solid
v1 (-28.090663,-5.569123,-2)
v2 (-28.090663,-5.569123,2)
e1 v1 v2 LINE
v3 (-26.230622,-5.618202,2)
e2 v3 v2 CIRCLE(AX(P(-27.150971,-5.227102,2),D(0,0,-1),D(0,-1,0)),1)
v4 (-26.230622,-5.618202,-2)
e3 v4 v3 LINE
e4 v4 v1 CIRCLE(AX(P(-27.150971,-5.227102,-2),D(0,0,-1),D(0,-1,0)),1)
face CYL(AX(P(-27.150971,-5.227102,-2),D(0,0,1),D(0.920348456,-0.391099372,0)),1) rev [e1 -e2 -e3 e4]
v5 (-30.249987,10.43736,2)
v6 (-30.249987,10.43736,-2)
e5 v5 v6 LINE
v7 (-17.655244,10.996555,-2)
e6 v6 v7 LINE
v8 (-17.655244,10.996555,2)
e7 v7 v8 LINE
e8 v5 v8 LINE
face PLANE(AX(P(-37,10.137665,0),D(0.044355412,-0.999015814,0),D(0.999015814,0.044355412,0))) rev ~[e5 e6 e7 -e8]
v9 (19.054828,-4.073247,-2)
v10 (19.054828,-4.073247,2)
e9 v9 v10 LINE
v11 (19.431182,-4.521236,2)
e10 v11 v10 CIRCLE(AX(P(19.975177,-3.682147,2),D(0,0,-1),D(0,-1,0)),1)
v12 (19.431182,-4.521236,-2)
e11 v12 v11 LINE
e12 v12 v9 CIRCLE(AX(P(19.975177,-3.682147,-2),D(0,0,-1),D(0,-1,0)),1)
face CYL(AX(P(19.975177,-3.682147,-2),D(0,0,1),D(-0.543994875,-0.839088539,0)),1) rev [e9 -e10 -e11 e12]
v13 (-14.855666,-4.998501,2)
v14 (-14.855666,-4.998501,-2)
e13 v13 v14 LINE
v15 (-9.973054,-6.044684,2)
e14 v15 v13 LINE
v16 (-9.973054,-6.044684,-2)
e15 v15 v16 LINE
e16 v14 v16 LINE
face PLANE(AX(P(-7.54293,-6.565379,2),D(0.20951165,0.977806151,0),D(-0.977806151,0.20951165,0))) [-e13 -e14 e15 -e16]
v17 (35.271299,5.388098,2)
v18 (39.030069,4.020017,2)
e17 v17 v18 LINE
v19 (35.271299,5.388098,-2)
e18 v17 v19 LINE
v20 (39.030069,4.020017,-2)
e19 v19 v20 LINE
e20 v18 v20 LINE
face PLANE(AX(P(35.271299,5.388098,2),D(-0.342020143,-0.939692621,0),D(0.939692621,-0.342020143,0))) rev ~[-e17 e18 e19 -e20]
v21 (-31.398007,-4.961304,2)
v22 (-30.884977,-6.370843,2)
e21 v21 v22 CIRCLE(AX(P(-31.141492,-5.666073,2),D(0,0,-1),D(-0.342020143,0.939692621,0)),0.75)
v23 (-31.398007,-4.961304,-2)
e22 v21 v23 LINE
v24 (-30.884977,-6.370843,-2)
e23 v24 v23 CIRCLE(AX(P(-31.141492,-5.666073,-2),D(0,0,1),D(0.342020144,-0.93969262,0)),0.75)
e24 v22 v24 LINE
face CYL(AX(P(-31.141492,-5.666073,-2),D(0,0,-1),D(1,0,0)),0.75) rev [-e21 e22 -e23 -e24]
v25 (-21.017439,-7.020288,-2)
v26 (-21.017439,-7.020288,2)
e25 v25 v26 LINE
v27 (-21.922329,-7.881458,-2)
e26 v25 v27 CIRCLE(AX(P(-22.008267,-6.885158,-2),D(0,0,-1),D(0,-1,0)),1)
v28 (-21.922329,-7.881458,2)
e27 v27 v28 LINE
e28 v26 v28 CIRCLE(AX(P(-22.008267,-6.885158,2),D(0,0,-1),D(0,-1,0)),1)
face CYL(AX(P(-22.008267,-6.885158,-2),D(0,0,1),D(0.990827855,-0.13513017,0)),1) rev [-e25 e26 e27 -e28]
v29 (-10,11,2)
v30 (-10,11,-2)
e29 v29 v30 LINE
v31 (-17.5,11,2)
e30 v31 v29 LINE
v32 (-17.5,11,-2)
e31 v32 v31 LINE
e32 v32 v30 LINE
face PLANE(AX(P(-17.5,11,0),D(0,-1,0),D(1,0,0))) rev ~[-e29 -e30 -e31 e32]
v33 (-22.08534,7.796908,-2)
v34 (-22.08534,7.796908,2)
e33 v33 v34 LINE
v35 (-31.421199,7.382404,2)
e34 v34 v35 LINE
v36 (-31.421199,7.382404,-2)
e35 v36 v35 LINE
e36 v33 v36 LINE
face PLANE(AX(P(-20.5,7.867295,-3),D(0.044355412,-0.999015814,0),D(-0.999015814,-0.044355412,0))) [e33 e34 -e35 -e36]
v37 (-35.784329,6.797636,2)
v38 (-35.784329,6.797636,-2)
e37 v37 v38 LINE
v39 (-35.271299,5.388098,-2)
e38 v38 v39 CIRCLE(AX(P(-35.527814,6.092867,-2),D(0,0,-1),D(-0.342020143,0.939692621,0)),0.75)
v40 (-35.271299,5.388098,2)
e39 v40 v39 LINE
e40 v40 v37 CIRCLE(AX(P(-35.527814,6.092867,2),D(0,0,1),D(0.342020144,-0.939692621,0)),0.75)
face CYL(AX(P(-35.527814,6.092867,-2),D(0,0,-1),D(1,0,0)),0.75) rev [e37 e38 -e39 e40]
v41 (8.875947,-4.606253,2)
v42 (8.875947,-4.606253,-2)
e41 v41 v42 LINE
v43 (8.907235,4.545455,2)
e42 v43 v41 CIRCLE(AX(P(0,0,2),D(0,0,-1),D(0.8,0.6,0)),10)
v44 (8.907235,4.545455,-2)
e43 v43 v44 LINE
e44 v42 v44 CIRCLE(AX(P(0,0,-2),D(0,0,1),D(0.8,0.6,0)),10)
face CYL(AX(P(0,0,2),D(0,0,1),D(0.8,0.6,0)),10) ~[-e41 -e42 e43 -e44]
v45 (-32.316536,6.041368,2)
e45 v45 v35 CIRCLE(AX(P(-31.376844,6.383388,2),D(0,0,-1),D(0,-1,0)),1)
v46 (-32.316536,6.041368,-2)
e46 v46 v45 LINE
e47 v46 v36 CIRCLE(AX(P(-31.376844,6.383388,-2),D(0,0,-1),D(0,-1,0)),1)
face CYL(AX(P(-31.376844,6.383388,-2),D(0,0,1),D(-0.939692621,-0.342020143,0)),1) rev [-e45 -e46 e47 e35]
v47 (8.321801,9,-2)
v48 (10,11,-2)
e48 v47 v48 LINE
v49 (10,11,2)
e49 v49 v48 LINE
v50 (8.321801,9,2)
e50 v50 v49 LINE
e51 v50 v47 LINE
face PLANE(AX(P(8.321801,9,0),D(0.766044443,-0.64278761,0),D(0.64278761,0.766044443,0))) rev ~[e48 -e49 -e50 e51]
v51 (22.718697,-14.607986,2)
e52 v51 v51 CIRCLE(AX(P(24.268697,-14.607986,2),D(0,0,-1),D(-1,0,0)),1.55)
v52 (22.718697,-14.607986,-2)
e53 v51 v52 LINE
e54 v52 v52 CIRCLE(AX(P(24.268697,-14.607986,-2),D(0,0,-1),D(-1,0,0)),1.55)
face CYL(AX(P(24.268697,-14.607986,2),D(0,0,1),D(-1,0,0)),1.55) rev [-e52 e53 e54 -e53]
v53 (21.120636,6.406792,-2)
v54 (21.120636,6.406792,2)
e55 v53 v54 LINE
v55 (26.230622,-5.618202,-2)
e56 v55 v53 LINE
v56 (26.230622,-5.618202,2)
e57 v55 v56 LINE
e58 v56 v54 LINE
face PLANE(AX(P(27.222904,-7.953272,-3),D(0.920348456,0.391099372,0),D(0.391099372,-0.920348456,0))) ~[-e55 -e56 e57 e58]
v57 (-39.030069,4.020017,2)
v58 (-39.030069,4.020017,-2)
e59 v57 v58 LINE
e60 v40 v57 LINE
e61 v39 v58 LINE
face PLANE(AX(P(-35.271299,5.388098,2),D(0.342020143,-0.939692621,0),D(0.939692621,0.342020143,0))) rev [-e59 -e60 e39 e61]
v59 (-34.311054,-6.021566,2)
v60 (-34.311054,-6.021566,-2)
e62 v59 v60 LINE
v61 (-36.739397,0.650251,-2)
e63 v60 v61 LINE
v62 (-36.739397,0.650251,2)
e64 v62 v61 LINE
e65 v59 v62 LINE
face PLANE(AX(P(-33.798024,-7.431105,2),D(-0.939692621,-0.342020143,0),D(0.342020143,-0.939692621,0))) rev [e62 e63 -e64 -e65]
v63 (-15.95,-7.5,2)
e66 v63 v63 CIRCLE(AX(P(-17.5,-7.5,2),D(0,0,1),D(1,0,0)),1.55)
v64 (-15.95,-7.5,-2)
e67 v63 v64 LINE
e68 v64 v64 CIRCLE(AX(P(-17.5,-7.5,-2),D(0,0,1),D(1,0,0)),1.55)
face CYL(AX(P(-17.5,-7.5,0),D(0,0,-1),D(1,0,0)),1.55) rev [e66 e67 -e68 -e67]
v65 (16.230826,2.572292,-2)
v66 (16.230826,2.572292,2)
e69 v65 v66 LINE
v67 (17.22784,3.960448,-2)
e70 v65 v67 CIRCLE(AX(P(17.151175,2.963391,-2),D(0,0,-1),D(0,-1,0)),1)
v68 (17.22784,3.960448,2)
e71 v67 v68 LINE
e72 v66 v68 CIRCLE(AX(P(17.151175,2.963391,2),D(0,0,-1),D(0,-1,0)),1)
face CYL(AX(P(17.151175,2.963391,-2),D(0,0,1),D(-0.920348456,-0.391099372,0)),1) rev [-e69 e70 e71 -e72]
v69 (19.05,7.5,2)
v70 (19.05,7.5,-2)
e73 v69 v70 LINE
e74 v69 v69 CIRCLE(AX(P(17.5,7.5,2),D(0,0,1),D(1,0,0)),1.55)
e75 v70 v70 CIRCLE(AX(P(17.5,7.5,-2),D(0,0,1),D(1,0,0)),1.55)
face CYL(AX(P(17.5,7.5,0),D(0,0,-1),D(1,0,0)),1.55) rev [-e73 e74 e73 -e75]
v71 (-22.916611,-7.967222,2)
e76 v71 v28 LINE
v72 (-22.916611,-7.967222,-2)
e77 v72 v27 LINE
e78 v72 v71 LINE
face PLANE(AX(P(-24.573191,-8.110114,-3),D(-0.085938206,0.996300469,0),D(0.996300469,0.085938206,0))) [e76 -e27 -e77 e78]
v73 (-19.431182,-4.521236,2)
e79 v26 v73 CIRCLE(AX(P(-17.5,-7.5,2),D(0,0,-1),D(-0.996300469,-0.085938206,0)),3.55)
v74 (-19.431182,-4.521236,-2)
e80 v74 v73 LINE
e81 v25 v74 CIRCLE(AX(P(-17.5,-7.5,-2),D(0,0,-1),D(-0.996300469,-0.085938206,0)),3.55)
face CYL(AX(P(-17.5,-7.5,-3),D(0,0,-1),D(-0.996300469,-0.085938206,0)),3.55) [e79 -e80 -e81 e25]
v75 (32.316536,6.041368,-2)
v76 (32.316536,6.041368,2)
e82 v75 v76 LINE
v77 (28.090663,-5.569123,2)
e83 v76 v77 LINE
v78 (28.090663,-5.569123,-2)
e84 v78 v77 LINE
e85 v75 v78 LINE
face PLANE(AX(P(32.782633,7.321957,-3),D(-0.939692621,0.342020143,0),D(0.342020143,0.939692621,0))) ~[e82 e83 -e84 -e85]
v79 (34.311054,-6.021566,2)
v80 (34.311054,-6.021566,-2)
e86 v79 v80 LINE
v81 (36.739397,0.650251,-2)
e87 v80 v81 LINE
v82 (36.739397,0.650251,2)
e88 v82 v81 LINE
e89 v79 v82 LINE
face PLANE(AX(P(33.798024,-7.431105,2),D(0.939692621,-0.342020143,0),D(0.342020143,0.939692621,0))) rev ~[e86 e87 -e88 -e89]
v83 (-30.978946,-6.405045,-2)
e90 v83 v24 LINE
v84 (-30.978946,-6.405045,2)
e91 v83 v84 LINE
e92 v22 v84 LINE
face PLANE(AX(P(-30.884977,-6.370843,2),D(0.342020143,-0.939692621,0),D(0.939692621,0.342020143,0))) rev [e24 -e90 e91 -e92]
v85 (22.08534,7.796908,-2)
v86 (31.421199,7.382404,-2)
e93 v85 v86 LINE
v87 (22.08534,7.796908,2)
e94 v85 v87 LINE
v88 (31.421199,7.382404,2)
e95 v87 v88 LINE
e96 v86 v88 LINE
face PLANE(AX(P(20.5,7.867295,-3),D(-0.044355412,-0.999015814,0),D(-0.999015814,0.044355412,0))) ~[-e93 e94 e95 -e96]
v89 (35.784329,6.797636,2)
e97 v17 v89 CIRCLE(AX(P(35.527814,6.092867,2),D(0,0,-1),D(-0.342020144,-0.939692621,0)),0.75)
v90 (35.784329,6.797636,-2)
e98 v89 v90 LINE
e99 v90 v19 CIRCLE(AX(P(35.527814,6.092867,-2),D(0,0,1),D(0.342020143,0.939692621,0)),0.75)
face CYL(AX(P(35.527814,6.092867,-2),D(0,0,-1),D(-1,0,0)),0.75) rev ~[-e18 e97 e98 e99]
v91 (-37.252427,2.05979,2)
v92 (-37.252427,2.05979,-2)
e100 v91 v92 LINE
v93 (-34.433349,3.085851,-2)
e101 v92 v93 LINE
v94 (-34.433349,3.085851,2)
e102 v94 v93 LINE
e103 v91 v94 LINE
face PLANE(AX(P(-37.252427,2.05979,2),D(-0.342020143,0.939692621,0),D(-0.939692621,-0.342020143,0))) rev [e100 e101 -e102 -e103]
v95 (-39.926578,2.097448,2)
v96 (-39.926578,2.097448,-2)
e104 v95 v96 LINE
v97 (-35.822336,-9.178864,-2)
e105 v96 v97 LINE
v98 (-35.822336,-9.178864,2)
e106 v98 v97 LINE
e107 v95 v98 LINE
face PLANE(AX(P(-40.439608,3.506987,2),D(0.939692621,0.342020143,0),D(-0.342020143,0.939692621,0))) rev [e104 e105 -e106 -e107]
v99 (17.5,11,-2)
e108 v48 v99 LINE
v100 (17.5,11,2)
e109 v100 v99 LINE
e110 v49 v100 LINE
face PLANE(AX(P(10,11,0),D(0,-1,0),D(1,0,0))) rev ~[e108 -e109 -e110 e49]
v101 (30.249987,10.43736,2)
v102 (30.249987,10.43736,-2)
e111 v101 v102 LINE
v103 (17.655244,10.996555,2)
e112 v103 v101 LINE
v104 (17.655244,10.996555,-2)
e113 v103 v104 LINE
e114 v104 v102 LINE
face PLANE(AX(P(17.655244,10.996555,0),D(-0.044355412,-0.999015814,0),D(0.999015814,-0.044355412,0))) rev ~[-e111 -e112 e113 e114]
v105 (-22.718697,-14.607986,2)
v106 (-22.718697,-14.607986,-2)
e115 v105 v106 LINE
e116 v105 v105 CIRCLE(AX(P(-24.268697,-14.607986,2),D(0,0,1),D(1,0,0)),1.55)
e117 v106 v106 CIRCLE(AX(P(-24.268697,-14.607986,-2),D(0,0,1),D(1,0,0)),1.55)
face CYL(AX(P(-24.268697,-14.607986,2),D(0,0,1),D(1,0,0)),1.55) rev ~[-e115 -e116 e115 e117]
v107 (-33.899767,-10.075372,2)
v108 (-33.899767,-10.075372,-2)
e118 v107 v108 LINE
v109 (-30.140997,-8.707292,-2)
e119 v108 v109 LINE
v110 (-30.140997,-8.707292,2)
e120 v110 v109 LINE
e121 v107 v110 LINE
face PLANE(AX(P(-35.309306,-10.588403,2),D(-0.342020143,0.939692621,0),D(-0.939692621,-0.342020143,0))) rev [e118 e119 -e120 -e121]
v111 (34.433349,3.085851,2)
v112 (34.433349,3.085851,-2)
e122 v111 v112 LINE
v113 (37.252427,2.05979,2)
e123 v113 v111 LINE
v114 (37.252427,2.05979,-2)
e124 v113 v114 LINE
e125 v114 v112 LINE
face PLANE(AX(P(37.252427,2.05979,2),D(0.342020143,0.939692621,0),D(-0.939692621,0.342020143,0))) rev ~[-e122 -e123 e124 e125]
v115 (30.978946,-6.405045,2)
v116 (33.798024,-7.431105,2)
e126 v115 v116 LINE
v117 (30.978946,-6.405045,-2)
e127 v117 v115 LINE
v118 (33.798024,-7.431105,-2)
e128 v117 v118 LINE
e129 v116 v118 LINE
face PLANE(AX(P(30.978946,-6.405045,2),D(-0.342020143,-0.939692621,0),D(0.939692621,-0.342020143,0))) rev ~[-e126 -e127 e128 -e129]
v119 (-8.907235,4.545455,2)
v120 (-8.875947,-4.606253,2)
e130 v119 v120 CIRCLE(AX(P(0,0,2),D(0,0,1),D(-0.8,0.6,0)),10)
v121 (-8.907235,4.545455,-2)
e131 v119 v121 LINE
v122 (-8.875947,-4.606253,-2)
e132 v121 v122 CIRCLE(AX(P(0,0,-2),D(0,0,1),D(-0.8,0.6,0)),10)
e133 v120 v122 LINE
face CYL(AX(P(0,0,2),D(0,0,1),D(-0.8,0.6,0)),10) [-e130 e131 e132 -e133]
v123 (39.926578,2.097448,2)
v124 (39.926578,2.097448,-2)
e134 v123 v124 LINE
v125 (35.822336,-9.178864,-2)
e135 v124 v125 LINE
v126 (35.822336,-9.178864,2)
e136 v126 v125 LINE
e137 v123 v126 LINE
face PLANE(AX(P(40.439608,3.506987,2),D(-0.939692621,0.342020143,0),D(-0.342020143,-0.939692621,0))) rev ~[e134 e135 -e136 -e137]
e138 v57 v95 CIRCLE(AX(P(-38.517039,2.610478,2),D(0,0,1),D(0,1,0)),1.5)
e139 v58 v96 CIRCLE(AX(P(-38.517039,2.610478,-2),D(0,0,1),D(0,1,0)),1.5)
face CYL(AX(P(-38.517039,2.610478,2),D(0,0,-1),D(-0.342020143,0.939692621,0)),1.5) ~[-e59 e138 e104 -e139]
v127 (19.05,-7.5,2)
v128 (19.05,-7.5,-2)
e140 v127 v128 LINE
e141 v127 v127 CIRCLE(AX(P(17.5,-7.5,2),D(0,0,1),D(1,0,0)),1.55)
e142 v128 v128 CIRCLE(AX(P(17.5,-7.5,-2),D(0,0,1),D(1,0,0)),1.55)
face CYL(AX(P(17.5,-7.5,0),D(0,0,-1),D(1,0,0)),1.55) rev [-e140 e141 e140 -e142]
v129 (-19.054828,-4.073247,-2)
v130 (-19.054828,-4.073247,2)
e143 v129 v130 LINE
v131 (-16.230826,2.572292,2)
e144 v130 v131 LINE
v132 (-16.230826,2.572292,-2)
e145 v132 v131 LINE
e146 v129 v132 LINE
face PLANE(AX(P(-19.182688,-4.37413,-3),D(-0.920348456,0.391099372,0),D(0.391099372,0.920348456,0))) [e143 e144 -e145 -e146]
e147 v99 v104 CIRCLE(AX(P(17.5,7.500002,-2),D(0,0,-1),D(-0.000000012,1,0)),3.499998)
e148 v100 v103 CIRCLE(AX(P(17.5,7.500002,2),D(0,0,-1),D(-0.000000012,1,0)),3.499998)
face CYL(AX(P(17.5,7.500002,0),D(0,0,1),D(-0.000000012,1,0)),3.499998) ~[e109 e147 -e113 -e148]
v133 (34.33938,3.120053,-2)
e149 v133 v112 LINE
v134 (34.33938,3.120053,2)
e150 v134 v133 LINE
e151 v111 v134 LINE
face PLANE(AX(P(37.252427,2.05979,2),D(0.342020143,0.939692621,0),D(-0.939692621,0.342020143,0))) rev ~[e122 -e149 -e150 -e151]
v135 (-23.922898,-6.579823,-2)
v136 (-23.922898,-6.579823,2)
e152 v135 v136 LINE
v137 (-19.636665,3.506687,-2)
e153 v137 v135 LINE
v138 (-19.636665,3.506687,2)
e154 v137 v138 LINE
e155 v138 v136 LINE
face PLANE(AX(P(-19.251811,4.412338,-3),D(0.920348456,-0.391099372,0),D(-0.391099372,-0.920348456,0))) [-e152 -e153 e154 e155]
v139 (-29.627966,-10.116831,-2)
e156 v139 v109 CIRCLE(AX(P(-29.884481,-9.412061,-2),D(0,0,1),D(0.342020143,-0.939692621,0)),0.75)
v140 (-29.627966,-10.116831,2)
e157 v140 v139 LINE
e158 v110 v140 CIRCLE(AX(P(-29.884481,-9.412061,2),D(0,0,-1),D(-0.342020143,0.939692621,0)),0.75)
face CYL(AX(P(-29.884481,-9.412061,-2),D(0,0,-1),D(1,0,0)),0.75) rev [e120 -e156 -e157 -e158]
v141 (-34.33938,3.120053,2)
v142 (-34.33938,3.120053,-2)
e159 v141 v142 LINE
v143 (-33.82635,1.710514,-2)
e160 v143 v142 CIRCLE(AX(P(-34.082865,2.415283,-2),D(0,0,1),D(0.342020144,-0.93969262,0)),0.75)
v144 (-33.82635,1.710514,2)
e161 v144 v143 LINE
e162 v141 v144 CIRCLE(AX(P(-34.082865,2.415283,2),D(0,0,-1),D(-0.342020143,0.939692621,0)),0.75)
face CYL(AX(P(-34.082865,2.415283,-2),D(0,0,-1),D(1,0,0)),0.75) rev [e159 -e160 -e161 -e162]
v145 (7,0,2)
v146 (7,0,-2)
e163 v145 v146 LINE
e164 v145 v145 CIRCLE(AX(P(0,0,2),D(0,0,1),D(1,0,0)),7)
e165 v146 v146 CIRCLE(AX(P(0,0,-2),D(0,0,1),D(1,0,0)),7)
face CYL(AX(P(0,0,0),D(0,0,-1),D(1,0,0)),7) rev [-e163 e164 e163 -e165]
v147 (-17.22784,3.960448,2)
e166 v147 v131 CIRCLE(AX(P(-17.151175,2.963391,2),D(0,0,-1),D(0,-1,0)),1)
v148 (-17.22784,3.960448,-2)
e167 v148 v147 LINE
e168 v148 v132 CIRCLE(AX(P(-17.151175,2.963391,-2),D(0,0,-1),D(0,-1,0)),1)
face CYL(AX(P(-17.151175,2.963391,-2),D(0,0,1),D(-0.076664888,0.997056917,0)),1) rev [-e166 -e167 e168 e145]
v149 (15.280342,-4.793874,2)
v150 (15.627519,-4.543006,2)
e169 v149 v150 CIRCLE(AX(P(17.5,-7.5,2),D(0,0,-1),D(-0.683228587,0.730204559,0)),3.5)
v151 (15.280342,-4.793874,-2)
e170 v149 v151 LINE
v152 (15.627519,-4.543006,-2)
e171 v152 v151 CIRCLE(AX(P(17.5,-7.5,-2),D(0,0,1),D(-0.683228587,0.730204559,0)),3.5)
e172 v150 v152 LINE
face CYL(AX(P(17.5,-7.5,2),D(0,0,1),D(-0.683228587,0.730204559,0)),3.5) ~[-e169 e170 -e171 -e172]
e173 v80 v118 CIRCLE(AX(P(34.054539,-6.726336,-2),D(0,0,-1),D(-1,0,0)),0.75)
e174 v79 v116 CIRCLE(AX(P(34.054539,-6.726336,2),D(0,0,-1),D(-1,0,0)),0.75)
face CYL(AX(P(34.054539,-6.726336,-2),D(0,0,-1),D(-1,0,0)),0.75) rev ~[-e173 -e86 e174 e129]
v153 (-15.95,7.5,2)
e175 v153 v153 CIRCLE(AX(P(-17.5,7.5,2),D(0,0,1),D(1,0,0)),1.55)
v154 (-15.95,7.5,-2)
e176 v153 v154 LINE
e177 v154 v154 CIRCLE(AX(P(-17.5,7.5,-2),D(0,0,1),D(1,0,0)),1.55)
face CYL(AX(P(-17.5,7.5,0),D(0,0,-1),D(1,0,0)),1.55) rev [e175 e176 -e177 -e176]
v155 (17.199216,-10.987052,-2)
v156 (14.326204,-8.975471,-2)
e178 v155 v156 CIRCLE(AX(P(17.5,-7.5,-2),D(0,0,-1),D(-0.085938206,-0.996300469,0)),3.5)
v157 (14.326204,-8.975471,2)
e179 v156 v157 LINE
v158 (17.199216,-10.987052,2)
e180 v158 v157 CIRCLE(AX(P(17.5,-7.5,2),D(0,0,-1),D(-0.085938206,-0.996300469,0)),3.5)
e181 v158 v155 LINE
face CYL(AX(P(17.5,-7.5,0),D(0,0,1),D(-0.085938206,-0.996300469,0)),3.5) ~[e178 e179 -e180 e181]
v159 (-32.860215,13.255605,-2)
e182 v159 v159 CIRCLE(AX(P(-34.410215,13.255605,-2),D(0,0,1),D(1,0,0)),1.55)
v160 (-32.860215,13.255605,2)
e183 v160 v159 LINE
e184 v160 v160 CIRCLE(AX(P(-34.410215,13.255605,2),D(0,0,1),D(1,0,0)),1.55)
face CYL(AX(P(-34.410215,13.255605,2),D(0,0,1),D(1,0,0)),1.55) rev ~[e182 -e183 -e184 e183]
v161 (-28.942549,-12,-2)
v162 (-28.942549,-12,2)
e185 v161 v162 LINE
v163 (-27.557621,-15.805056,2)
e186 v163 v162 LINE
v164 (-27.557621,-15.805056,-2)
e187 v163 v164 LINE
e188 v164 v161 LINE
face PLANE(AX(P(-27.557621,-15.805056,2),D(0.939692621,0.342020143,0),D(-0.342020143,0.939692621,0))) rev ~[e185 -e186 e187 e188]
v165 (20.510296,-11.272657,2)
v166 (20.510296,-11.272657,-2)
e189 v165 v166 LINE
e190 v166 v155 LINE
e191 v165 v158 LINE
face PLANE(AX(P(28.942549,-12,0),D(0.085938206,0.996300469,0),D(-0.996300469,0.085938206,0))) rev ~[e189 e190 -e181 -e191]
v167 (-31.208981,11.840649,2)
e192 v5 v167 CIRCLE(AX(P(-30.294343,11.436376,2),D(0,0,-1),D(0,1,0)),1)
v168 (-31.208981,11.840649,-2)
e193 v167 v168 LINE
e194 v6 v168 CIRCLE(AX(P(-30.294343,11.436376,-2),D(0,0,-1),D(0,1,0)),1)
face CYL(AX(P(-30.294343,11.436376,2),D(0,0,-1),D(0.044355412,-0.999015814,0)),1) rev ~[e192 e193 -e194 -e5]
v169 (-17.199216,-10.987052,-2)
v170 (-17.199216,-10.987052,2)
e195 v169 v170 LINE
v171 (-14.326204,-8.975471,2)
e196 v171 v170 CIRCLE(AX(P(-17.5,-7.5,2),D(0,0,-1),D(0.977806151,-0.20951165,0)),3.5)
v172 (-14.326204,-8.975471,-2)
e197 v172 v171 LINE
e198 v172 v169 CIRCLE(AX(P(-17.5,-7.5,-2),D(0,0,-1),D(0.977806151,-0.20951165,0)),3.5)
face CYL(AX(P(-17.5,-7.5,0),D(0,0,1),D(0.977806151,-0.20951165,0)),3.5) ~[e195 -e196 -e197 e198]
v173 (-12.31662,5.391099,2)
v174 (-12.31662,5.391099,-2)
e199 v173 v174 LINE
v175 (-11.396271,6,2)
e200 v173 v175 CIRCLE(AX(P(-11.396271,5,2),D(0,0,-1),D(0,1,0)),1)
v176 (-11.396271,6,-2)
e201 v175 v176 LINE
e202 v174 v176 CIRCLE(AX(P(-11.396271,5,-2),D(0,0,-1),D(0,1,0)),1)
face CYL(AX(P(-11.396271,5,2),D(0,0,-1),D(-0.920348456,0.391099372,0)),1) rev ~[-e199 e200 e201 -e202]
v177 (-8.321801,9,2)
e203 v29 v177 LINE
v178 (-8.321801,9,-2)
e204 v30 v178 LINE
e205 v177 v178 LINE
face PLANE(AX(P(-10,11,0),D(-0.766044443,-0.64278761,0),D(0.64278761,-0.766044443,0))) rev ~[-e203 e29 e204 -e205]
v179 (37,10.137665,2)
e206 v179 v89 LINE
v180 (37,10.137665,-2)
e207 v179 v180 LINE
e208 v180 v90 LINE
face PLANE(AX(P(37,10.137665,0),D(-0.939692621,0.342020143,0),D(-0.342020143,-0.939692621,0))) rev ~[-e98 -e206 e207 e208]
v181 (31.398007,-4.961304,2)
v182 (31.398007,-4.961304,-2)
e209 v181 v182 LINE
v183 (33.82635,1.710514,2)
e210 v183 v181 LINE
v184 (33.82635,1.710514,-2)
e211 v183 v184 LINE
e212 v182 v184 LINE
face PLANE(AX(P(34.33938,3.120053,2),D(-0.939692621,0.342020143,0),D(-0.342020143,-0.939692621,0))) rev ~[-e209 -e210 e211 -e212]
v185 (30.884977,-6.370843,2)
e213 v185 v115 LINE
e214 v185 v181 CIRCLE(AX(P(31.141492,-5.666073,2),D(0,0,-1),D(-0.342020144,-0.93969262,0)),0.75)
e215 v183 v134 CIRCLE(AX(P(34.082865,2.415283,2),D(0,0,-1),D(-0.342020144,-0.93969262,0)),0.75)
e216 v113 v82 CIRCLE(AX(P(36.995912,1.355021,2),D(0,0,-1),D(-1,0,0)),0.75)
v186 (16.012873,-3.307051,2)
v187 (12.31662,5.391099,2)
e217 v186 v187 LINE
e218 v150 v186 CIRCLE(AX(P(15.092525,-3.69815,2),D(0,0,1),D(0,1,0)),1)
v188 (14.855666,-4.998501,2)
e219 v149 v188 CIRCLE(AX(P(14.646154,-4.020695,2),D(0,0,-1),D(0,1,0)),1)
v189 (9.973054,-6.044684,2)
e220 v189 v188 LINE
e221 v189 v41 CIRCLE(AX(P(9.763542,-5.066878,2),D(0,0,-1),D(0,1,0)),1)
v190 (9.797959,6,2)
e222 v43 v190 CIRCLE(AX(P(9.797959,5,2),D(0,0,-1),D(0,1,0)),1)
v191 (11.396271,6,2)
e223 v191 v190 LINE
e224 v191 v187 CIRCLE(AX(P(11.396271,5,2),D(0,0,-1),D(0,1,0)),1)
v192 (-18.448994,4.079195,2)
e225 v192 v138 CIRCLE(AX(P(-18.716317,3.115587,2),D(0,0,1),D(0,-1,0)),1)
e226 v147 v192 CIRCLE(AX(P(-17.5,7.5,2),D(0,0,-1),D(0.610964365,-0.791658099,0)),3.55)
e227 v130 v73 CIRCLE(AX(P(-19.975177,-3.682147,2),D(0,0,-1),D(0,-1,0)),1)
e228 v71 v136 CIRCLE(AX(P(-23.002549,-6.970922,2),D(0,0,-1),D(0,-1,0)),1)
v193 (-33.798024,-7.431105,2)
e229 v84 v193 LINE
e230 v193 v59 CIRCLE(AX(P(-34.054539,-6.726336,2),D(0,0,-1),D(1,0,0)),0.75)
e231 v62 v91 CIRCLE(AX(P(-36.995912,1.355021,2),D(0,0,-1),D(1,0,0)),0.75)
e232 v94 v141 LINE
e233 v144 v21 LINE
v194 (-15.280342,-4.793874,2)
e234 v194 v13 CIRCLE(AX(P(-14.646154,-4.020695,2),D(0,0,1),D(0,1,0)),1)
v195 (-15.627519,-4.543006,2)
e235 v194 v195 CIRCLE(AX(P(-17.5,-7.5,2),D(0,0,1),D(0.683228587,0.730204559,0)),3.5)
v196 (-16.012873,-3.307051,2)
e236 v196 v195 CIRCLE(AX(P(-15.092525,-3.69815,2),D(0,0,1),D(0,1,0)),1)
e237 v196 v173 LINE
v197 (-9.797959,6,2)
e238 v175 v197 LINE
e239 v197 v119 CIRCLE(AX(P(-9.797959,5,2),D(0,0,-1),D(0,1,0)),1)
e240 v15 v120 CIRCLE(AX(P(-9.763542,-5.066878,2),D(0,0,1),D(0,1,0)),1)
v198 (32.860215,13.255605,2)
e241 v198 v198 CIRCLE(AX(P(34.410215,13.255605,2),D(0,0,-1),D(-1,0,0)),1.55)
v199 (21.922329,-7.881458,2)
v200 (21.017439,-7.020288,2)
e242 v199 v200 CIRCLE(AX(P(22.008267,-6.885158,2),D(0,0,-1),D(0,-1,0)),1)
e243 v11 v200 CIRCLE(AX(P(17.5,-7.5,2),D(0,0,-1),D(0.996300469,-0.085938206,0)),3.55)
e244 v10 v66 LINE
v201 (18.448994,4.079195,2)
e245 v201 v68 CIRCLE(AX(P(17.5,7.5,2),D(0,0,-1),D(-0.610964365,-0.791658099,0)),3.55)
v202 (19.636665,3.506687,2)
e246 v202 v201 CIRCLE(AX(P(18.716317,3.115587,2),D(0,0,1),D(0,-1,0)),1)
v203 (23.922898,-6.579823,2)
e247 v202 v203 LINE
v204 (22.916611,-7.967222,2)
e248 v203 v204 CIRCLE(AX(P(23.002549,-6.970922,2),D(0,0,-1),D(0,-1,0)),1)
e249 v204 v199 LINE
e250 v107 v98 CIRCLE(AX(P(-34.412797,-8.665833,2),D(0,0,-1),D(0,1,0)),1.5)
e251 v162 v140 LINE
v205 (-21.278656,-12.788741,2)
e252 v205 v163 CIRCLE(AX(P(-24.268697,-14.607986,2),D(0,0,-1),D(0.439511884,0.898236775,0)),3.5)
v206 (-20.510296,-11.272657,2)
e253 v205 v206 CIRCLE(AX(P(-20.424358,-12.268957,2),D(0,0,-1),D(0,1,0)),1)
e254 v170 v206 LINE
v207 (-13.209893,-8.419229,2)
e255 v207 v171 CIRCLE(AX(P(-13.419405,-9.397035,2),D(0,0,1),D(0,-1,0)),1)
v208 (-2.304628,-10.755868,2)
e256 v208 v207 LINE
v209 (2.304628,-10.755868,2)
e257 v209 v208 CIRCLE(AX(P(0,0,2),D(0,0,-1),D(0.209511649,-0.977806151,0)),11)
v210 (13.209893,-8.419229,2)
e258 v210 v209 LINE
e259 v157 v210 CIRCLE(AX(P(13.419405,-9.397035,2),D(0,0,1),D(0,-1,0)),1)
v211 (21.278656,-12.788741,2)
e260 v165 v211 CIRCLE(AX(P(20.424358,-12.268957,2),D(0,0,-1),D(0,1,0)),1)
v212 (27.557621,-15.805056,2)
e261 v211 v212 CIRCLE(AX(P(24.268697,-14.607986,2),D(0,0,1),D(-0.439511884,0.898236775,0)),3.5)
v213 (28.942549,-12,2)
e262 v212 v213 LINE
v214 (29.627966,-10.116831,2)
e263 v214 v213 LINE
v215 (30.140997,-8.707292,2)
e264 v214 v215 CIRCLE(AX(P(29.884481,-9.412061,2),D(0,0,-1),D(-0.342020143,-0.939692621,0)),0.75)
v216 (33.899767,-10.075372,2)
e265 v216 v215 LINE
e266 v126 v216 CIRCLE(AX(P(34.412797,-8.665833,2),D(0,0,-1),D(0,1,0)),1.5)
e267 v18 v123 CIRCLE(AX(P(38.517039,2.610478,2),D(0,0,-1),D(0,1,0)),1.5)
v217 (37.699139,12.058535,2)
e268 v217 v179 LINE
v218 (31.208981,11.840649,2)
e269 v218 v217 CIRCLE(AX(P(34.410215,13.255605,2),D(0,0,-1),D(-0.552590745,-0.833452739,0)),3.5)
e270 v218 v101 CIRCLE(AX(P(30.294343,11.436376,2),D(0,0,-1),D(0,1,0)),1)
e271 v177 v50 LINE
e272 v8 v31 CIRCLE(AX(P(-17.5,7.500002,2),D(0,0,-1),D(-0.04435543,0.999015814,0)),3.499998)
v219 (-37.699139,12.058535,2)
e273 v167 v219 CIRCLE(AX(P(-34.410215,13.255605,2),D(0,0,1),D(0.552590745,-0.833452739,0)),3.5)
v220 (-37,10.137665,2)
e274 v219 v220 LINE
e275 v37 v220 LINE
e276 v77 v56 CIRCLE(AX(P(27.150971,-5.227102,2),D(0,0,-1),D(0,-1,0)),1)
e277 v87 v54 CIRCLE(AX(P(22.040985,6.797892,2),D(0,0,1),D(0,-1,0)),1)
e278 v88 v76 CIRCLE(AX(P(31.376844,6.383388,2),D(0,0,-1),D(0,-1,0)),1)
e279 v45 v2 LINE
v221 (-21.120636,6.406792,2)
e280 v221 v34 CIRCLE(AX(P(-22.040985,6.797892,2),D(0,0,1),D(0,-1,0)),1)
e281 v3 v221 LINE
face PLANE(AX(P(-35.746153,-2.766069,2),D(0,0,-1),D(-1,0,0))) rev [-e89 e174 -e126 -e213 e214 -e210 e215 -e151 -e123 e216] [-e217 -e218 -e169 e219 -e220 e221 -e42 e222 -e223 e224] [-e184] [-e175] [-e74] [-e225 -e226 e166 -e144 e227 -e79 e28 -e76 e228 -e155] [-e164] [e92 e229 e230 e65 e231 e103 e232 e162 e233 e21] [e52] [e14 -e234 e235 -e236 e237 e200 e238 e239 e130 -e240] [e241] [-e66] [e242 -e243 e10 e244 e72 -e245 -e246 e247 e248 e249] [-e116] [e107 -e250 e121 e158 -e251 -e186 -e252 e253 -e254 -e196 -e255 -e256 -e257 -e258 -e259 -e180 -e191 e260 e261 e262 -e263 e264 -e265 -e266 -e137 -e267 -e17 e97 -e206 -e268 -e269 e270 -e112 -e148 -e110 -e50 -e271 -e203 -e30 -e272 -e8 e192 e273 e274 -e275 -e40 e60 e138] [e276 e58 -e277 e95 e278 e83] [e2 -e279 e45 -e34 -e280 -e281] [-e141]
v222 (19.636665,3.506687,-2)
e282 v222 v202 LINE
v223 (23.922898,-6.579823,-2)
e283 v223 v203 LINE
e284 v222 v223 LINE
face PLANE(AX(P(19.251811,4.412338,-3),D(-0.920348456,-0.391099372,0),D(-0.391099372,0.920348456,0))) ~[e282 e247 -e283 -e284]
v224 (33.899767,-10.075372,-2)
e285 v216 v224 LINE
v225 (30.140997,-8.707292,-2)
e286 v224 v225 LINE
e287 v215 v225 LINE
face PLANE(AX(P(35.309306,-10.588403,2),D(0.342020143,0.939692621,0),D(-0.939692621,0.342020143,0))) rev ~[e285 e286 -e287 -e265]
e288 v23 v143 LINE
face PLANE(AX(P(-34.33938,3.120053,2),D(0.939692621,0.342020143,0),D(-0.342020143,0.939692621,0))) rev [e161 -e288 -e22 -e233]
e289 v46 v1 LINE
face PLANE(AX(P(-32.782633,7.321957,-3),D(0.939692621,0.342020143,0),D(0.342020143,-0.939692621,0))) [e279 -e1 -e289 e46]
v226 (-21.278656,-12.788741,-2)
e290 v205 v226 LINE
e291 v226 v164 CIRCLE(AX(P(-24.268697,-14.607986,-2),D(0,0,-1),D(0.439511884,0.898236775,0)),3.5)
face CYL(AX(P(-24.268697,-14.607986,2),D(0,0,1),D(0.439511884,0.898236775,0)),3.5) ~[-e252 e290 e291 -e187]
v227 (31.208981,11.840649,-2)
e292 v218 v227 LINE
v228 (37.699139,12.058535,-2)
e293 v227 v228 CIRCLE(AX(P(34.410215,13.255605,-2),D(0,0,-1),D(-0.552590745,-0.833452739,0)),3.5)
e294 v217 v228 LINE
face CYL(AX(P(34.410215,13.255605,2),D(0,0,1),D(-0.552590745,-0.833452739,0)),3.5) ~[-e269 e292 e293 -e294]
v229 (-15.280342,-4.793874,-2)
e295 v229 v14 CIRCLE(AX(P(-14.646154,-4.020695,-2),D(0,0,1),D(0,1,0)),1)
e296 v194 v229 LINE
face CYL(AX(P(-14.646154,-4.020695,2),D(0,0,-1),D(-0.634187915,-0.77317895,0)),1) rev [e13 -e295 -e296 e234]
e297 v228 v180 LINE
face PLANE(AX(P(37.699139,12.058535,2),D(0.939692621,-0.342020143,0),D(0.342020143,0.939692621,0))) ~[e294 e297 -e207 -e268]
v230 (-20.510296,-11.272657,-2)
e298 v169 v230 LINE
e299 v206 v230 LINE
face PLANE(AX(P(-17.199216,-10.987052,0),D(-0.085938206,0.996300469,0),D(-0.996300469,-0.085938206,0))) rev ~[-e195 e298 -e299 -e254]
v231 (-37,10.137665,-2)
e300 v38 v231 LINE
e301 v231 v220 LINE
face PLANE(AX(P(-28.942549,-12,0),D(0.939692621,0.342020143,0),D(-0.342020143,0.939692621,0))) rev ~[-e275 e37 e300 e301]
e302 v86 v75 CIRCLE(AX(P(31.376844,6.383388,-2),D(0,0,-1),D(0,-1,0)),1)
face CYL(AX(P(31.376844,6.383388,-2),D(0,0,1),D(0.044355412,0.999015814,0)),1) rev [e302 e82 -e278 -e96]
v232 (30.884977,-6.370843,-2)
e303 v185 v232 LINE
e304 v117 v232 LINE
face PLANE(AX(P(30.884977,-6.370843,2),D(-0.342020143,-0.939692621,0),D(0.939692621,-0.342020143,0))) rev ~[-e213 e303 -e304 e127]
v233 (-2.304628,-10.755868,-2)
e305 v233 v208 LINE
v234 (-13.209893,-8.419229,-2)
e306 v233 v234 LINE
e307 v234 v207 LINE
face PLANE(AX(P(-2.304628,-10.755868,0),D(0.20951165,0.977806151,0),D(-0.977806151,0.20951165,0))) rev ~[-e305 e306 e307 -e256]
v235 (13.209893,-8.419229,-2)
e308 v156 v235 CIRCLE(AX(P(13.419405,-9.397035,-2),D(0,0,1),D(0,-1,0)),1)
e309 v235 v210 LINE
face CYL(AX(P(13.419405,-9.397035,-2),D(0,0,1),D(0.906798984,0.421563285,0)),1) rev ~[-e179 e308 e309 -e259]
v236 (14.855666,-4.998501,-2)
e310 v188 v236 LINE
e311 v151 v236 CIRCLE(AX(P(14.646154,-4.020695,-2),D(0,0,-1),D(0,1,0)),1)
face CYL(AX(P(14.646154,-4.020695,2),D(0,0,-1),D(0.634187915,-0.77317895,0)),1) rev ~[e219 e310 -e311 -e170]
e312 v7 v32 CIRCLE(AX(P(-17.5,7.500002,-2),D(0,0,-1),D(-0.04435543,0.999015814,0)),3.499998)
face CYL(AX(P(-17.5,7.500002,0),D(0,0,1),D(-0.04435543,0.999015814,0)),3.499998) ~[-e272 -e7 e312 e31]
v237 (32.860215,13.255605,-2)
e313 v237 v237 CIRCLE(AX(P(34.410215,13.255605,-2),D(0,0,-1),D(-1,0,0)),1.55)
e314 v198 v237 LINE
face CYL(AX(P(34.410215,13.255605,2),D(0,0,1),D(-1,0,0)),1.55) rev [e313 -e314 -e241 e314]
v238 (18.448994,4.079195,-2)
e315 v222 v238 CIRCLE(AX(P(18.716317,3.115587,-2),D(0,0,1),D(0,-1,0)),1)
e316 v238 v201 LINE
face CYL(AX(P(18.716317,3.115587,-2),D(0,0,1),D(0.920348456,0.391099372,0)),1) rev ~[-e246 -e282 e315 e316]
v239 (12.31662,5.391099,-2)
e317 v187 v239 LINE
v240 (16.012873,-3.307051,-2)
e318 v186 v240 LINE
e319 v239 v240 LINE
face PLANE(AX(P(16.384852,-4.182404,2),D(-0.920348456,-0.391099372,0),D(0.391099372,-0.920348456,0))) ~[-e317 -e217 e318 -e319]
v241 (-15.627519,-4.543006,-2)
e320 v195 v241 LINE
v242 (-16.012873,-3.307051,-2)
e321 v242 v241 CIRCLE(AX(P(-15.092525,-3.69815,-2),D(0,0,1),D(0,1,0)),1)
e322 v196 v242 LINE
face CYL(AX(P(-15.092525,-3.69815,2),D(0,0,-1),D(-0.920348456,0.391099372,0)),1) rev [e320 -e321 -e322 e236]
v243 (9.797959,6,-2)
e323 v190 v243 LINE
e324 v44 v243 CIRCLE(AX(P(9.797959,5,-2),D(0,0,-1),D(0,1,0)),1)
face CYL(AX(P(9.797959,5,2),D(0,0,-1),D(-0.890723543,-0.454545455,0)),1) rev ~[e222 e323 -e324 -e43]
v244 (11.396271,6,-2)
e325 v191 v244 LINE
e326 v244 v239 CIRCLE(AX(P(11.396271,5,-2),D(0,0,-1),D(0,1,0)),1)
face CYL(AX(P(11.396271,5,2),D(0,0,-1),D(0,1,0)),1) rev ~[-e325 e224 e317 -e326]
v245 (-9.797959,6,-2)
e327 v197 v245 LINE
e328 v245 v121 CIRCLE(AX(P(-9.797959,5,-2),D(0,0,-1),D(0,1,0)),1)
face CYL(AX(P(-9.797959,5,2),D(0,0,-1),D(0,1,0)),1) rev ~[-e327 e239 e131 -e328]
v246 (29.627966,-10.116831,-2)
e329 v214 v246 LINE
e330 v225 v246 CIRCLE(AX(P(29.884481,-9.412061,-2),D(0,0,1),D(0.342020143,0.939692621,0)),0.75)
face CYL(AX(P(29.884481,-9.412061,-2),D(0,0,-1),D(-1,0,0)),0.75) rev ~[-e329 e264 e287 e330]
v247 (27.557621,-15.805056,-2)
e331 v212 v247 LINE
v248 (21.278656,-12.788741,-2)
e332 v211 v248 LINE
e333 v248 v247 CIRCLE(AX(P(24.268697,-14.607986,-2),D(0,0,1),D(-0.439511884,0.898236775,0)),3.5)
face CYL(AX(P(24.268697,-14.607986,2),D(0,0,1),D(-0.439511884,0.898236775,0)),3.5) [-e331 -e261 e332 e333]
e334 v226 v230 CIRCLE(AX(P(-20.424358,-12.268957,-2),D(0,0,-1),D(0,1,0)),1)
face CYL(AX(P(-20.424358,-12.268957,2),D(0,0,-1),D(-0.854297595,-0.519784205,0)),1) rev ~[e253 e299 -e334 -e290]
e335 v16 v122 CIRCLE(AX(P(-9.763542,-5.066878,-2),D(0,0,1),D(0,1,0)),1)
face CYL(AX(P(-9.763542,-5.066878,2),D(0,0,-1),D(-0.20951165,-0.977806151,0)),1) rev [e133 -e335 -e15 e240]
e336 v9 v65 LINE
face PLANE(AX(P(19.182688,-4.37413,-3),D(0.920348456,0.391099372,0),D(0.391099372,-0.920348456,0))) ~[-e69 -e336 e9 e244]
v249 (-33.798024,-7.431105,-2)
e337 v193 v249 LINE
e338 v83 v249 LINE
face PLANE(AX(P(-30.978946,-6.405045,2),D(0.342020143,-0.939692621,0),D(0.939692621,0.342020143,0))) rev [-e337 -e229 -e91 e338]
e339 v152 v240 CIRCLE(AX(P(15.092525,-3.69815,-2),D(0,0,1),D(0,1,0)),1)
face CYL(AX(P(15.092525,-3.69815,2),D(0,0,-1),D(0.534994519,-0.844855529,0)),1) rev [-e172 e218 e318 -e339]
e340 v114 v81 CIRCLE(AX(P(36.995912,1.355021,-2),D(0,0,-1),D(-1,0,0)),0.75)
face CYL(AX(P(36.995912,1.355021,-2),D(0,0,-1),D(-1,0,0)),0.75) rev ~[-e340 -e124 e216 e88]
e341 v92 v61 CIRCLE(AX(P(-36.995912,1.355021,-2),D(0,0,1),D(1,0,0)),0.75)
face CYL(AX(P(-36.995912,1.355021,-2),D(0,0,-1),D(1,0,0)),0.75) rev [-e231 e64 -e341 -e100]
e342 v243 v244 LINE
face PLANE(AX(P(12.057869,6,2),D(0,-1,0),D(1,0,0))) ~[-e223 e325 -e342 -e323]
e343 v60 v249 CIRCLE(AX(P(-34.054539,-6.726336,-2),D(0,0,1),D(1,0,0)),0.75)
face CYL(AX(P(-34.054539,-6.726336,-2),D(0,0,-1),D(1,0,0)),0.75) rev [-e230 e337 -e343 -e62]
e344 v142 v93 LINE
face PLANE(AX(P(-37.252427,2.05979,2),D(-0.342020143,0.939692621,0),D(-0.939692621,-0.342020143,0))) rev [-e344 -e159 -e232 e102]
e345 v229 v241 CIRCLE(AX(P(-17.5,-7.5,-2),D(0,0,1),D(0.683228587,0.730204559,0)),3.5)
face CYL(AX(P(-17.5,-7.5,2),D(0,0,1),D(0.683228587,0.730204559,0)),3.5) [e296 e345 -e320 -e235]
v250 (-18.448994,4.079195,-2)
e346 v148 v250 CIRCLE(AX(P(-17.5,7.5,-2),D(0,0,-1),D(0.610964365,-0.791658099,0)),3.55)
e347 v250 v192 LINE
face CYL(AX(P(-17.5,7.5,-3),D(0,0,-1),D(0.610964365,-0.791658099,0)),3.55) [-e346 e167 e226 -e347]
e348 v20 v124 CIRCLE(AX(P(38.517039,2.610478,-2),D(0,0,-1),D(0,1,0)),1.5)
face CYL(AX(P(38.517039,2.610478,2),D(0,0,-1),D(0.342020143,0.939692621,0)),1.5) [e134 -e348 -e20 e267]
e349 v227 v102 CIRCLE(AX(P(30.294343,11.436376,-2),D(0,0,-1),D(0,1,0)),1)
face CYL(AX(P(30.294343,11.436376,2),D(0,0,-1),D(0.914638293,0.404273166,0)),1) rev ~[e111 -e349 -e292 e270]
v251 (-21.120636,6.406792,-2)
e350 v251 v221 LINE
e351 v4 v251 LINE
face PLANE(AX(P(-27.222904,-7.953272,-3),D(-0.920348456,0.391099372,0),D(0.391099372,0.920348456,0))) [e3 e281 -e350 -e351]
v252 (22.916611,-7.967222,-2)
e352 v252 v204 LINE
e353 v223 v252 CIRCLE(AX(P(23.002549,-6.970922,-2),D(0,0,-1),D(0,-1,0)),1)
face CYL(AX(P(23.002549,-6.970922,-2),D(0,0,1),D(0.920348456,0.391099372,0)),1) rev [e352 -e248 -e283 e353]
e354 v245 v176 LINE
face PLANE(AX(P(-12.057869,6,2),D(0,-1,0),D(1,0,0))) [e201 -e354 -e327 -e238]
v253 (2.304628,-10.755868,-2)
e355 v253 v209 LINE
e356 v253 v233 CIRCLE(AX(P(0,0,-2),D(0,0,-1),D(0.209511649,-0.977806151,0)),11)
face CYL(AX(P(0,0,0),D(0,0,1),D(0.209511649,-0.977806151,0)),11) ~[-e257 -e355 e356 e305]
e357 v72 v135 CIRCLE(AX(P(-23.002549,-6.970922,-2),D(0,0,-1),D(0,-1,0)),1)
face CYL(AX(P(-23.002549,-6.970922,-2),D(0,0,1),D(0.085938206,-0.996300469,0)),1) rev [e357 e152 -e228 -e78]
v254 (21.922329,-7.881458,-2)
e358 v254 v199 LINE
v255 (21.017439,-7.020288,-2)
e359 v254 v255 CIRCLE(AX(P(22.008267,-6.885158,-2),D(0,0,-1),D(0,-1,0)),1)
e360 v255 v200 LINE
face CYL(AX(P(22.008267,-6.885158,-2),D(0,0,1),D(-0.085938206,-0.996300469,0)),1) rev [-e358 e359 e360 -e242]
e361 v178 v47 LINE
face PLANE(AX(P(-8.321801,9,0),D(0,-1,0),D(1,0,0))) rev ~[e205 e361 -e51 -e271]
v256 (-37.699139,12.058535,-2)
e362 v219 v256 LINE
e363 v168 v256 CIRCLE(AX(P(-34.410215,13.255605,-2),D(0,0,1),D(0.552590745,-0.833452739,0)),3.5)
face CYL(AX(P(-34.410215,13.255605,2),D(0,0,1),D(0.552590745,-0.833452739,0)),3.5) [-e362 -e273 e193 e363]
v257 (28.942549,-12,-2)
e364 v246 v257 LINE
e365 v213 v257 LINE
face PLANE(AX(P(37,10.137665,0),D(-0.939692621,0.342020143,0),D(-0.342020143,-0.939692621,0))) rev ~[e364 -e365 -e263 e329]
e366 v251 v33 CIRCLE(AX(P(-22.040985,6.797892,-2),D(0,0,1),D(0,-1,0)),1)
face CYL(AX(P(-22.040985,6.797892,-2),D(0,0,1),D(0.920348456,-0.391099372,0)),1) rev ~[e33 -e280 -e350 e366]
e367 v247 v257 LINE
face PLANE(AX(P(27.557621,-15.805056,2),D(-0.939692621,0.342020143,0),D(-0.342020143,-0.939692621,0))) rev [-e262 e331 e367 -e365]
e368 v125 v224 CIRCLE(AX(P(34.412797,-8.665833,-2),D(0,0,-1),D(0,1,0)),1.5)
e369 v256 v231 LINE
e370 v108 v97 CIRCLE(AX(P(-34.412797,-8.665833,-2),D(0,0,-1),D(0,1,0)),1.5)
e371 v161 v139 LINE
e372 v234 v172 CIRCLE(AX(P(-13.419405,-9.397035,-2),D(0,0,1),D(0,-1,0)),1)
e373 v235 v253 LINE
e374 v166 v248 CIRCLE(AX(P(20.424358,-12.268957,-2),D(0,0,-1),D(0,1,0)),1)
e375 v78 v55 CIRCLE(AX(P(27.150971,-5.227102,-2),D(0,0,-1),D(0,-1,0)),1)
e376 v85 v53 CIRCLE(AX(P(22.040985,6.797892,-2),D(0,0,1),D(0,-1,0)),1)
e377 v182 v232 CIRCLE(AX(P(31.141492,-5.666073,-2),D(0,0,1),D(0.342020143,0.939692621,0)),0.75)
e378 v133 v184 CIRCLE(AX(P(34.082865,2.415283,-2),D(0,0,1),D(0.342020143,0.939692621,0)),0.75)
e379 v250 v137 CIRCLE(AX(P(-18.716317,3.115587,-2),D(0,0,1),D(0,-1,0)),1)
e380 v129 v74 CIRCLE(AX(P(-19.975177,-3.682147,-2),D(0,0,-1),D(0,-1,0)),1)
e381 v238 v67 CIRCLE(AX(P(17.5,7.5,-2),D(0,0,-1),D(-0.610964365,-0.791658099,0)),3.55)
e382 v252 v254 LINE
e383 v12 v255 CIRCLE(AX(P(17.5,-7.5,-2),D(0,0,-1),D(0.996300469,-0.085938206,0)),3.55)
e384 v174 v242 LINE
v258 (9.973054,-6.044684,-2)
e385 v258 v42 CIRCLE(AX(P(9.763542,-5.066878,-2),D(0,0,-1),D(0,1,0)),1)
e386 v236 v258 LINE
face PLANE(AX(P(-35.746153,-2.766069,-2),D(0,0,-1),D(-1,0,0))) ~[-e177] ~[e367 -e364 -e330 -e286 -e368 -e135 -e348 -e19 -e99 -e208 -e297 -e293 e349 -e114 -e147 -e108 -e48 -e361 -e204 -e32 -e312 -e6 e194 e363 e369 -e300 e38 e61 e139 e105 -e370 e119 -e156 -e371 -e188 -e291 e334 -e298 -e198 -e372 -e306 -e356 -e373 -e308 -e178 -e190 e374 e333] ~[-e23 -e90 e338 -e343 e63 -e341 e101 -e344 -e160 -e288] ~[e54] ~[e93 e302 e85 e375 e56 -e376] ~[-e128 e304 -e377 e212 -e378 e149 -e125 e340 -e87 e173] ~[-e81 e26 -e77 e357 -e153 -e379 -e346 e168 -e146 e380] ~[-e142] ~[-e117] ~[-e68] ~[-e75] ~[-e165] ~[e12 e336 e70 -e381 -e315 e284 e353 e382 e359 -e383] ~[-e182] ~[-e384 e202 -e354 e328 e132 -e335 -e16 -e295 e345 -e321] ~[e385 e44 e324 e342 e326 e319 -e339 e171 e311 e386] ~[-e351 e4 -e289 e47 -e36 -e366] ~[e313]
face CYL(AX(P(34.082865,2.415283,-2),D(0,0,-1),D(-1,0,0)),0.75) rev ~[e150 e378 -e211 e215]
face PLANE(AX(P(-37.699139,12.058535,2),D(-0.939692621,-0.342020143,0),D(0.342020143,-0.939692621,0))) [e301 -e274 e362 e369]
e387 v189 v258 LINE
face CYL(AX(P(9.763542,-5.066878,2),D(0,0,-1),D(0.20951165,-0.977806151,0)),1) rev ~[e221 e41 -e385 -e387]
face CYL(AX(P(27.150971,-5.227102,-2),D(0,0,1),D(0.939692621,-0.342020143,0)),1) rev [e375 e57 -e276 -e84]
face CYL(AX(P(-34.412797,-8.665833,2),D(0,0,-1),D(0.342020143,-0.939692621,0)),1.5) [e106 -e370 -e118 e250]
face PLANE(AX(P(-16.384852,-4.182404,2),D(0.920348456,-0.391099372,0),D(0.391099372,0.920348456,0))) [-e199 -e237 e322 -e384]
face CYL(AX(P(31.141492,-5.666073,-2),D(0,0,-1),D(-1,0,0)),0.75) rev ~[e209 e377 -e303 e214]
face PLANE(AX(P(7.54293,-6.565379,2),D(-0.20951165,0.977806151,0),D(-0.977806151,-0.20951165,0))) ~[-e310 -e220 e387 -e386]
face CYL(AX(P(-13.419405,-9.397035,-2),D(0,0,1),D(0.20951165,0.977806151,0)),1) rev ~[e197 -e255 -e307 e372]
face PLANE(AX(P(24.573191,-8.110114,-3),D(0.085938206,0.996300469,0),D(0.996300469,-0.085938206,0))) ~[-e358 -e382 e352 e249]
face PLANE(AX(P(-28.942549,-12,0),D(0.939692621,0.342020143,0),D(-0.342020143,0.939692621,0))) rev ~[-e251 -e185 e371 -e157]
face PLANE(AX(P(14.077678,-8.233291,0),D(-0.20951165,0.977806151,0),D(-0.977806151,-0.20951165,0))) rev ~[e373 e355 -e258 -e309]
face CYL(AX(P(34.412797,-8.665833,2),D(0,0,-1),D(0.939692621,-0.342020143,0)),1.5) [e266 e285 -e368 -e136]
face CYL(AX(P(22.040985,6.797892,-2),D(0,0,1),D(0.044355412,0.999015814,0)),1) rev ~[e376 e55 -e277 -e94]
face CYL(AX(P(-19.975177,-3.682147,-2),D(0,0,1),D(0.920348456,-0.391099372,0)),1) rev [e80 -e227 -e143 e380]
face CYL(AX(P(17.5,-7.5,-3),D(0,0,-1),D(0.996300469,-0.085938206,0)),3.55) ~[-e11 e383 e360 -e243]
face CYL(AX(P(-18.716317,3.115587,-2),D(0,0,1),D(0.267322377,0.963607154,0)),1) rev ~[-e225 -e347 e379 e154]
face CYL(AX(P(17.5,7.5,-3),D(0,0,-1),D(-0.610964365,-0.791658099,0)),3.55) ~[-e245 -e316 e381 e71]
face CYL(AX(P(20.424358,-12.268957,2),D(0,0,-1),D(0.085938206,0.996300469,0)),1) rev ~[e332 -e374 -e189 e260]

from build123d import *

# Parameters (mm, degrees)
SKETCH_1_R             = 7
SKETCH_1_R_2           = 1.55
EXTRUDE_1_DEPTH        = 2
FILLET_1_R             = 1
CUT_EXTRUDE_START      = -5
CUT_EXTRUDE_1_DEPTH    = 6
FILLET_2_R             = 1
FILLET_2_OF_MIRROR_1_R = 1
SKETCH_3_R             = 1.55
EXTRUDE_2_DEPTH        = 4
FILLET_3_R             = 1
CUT_EXTRUDE_2_DEPTH    = 5
FILLET_4_R             = 1
CUT_EXTRUDE_3_DEPTH    = 5
EXTRUDE_3_DEPTH        = 4
SKETCH_8_R             = 0.75
CUT_EXTRUDE_4_DEPTH    = 5
FILLET_5_R             = 1.5


with BuildPart() as part:
    # 草图1 → 凸台-拉伸1 (new body, symmetric)
    with BuildSketch(Plane.XY):
        with BuildLine():
            Line((-17.5, 11), (-10, 11))
            Line((-10, 11), (-8.321800738, 9))
            Line((-8.321800738, 9), (8.321800738, 9))
            Line((8.321800738, 9), (10, 11))
            Line((10, 11), (17.5, 11))
            ThreePointArc((17.5, 11), (17.577641076, 10.999138732), (17.655243941, 10.99655535))
            Line((17.655243941, 10.99655535), (37, 10.137665421))
            Line((37, 10.137665421), (28.942548731, -12))
            Line((28.942548731, -12), (17.199216279, -10.987051642))
            ThreePointArc((17.199216279, -10.987051642), (15.184578245, -10.124656567), (14.077678472, -8.233290774))
            Line((14.077678472, -8.233290774), (2.304628146, -10.75586766))
            ThreePointArc((2.304628146, -10.75586766), (0, -11), (-2.304628146, -10.75586766))
            Line((-2.304628146, -10.75586766), (-14.077678472, -8.233290774))
            ThreePointArc((-14.077678472, -8.233290774), (-15.184578245, -10.124656567), (-17.199216279, -10.987051642))
            Line((-17.199216279, -10.987051642), (-28.942548731, -12))
            Line((-28.942548731, -12), (-37, 10.137665421))
            Line((-37, 10.137665421), (-17.655243941, 10.99655535))
            ThreePointArc((-17.655243941, 10.99655535), (-17.577641076, 10.999138732), (-17.5, 11))
        make_face()
        Circle(SKETCH_1_R, mode=Mode.SUBTRACT)
        with Locations((17.5, 7.5)):
            Circle(SKETCH_1_R_2, mode=Mode.SUBTRACT)
        with Locations((17.5, -7.5)):
            Circle(SKETCH_1_R_2, mode=Mode.SUBTRACT)
        with Locations((-17.5, -7.5)):
            Circle(SKETCH_1_R_2, mode=Mode.SUBTRACT)
        with Locations((-17.5, 7.5)):
            Circle(SKETCH_1_R_2, mode=Mode.SUBTRACT)
    extrude(amount=EXTRUDE_1_DEPTH, both=True)

    # 圆角1
    fillet_1_edges = [part.edges().sort_by_distance(p)[0] for p in [
        (14.077678472, -8.233290774, 0),
        (-14.077678472, -8.233290774, 0),
    ]]
    fillet(fillet_1_edges, radius=FILLET_1_R)

    # 草图2 → 切除-拉伸1 (cut)
    with BuildSketch(Plane.XY.offset(2).offset(CUT_EXTRUDE_START)):
        Polygon((-20.5, 7.867295251), (-32.782632739, 7.321957304), (-27.222903771, -7.953272497), align=None)
        with BuildLine():
            Line((-19.251811465, 4.412338006), (-24.573190843, -8.11011447))
            Line((-24.573190843, -8.11011447), (-21.036866665, -7.805080632))
            ThreePointArc((-21.036866665, -7.805080632), (-20.623106229, -5.812188553), (-19.182687898, -4.374130291))
            Line((-19.182687898, -4.374130291), (-15.331076504, 4.689613751))
            ThreePointArc((-15.331076504, 4.689613751), (-17.24956823, 3.958844267), (-19.251811465, 4.412338006))
        make_face()
    cut_extrude_1 = extrude(amount=CUT_EXTRUDE_1_DEPTH, mode=Mode.SUBTRACT)

    # 圆角2
    fillet_2_edges = [part.edges().sort_by_distance(p)[0] for p in [
        (-20.5, 7.867295251, 0),
        (-27.222903771, -7.953272497, 0),
        (-32.782632739, 7.321957304, 0),
        (-19.251811465, 4.412338006, 0),
        (-15.331076504, 4.689613751, 0),
        (-19.182687898, -4.374130291, 0),
        (-21.036866665, -7.805080632, 0),
        (-24.573190843, -8.11011447, 0),
    ]]
    fillet(fillet_2_edges, radius=FILLET_2_R)

    # 镜向1: 切除-拉伸1 across plane
    add(cut_extrude_1.mirror(Plane(origin=(0, 0, 0), x_dir=(0, 0, 1), z_dir=(1, 0, 0))), mode=Mode.SUBTRACT)

    # 圆角2 of 镜向1
    fillet_2_of_mirror_1_edges = [part.edges().sort_by_distance(p)[0] for p in [
        (20.5, 7.867295251, 0),
        (27.222903771, -7.953272497, 0),
        (32.782632739, 7.321957304, 0),
        (19.251811465, 4.412338006, 0),
        (15.331076504, 4.689613751, 0),
        (19.182687898, -4.374130291, 0),
        (21.036866665, -7.805080632, 0),
        (24.573190843, -8.11011447, 0),
    ]]
    fillet(fillet_2_of_mirror_1_edges, radius=FILLET_2_OF_MIRROR_1_R)

    # 草图3 → 凸台-拉伸2 (add)
    with BuildSketch(Plane.XY.offset(2)):
        with BuildLine():
            Line((-37.69913918, 12.058534531), (-37, 10.137665421))
            Line((-37, 10.137665421), (-32.4761474, 10.338520445))
            ThreePointArc((-32.4761474, 10.338520445), (-33.315445081, 16.579981486), (-37.69913918, 12.058534531))
        make_face()
        with Locations((-34.410215007, 13.255605032)):
            Circle(SKETCH_3_R, mode=Mode.SUBTRACT)
        with BuildLine():
            Line((-27.557621455, -15.805056417), (-28.942548731, -12))
            Line((-28.942548731, -12), (-22.730405687, -11.464157204))
            ThreePointArc((-22.730405687, -11.464157204), (-21.928391725, -17.210478932), (-27.557621455, -15.805056417))
        make_face()
        with Locations((-24.268697282, -14.607985915)):
            Circle(SKETCH_3_R, mode=Mode.SUBTRACT)
    extrude_2 = extrude(amount=-EXTRUDE_2_DEPTH)

    # 镜向2: 凸台-拉伸2 across plane
    add(extrude_2.mirror(Plane(origin=(0, 0, 0), x_dir=(0, 0, 1), z_dir=(1, 0, 0))))

    # 圆角3
    fillet_3_edges = [part.edges().sort_by_distance(p)[0] for p in [
        (-22.730405687, -11.464157204, 0),
        (-32.4761474, 10.338520445, 0),
        (22.730405687, -11.464157204, 0),
        (32.4761474, 10.338520445, 0),
    ]]
    fillet(fillet_3_edges, radius=FILLET_3_R)

    # 草图4 → 切除-拉伸2 (cut, through all)
    with BuildSketch(Plane.XY.offset(2)):
        with BuildLine():
            Line((-16.384851826, -4.1824038), (-12.057869255, 6))
            Line((-12.057869255, 6), (-8, 6))
            ThreePointArc((-8, 6), (-9.993390733, -0.363512948), (-7.542930102, -6.565379309))
            Line((-7.542930102, -6.565379309), (-15.108699944, -4.944284045))
            ThreePointArc((-15.108699944, -4.944284045), (-15.705867849, -4.49482283), (-16.384851826, -4.1824038))
        make_face()
    cut_extrude_2 = extrude(amount=-CUT_EXTRUDE_2_DEPTH, mode=Mode.SUBTRACT)

    # 镜向3: 切除-拉伸2 across plane
    add(cut_extrude_2.mirror(Plane(origin=(0, 0, 0), x_dir=(0, 0, 1), z_dir=(1, 0, 0))), mode=Mode.SUBTRACT)

    # 圆角4
    fillet_4_edges = [part.edges().sort_by_distance(p)[0] for p in [
        (-12.057869255, 6, 0),
        (-8, 6, 0),
        (-7.542930102, -6.565379309, 0),
        (-15.108699944, -4.944284045, 0),
        (-16.384851826, -4.1824038, 0),
        (8, 6, 0),
        (12.057869255, 6, 0),
        (16.384851826, -4.1824038, 0),
        (15.108699944, -4.944284045, 0),
        (7.542930102, -6.565379309, 0),
    ]]
    fillet(fillet_4_edges, radius=FILLET_4_R)

    # 草图5 → 切除-拉伸3 (cut, through all)
    with BuildSketch(Plane.XY.offset(2)):
        Polygon((30.884976598, -6.370842854), (33.798023723, -7.431105298), (37.25242717, 2.059790172), (34.339380046, 3.120052616), align=None)
    cut_extrude_3 = extrude(amount=-CUT_EXTRUDE_3_DEPTH, mode=Mode.SUBTRACT)

    # 草图7 → 凸台-拉伸3 (add)
    with BuildSketch(Plane.XY.offset(2)):
        Polygon((35.271298659, 5.388097522), (40.439608074, 3.506986734), (35.309305924, -10.588402578), (30.140996509, -8.707291789), (30.97894586, -6.405044868), (33.798023723, -7.431105298), (37.25242717, 2.059790172), (34.433349308, 3.085850601), align=None)
    extrude_3 = extrude(amount=-EXTRUDE_3_DEPTH)

    # 镜向4: 切除-拉伸3, 凸台-拉伸3 across plane
    add(cut_extrude_3.mirror(Plane(origin=(0, 0, 0), x_dir=(0, 0, 1), z_dir=(1, 0, 0))), mode=Mode.SUBTRACT)
    add(extrude_3.mirror(Plane(origin=(0, 0, 0), x_dir=(0, 0, 1), z_dir=(1, 0, 0))))

    # 草图8 → 切除-拉伸4 (cut, through all)
    with BuildSketch(Plane(origin=(0, 0, -2), x_dir=(-1, 0, 0), z_dir=(0, 0, -1))):
        with Locations((-36.995912063, 1.355020706)):
            Circle(SKETCH_8_R)
        with Locations((-34.082864939, 2.41528315)):
            Circle(SKETCH_8_R)
        with Locations((-34.05453883, -6.726335833)):
            Circle(SKETCH_8_R)
        with Locations((-31.141491706, -5.666073389)):
            Circle(SKETCH_8_R)
        with Locations((-35.527813767, 6.092866988)):
            Circle(SKETCH_8_R)
        with Locations((-29.884481402, -9.412061255)):
            Circle(SKETCH_8_R)
    cut_extrude_4 = extrude(amount=-CUT_EXTRUDE_4_DEPTH, mode=Mode.SUBTRACT)

    # 镜向5: 切除-拉伸4 across plane
    add(cut_extrude_4.mirror(Plane(origin=(0, 0, 0), x_dir=(0, 0, 1), z_dir=(1, 0, 0))), mode=Mode.SUBTRACT)

    # 圆角5
    fillet_5_edges = [part.edges().sort_by_distance(p)[0] for p in [
        (40.439608074, 3.506986734, 0),
        (35.309305924, -10.588402578, 0),
        (-40.439608074, 3.506986734, 0),
        (-35.309305924, -10.588402578, 0),
    ]]
    fillet(fillet_5_edges, radius=FILLET_5_R)


solid = part.part
